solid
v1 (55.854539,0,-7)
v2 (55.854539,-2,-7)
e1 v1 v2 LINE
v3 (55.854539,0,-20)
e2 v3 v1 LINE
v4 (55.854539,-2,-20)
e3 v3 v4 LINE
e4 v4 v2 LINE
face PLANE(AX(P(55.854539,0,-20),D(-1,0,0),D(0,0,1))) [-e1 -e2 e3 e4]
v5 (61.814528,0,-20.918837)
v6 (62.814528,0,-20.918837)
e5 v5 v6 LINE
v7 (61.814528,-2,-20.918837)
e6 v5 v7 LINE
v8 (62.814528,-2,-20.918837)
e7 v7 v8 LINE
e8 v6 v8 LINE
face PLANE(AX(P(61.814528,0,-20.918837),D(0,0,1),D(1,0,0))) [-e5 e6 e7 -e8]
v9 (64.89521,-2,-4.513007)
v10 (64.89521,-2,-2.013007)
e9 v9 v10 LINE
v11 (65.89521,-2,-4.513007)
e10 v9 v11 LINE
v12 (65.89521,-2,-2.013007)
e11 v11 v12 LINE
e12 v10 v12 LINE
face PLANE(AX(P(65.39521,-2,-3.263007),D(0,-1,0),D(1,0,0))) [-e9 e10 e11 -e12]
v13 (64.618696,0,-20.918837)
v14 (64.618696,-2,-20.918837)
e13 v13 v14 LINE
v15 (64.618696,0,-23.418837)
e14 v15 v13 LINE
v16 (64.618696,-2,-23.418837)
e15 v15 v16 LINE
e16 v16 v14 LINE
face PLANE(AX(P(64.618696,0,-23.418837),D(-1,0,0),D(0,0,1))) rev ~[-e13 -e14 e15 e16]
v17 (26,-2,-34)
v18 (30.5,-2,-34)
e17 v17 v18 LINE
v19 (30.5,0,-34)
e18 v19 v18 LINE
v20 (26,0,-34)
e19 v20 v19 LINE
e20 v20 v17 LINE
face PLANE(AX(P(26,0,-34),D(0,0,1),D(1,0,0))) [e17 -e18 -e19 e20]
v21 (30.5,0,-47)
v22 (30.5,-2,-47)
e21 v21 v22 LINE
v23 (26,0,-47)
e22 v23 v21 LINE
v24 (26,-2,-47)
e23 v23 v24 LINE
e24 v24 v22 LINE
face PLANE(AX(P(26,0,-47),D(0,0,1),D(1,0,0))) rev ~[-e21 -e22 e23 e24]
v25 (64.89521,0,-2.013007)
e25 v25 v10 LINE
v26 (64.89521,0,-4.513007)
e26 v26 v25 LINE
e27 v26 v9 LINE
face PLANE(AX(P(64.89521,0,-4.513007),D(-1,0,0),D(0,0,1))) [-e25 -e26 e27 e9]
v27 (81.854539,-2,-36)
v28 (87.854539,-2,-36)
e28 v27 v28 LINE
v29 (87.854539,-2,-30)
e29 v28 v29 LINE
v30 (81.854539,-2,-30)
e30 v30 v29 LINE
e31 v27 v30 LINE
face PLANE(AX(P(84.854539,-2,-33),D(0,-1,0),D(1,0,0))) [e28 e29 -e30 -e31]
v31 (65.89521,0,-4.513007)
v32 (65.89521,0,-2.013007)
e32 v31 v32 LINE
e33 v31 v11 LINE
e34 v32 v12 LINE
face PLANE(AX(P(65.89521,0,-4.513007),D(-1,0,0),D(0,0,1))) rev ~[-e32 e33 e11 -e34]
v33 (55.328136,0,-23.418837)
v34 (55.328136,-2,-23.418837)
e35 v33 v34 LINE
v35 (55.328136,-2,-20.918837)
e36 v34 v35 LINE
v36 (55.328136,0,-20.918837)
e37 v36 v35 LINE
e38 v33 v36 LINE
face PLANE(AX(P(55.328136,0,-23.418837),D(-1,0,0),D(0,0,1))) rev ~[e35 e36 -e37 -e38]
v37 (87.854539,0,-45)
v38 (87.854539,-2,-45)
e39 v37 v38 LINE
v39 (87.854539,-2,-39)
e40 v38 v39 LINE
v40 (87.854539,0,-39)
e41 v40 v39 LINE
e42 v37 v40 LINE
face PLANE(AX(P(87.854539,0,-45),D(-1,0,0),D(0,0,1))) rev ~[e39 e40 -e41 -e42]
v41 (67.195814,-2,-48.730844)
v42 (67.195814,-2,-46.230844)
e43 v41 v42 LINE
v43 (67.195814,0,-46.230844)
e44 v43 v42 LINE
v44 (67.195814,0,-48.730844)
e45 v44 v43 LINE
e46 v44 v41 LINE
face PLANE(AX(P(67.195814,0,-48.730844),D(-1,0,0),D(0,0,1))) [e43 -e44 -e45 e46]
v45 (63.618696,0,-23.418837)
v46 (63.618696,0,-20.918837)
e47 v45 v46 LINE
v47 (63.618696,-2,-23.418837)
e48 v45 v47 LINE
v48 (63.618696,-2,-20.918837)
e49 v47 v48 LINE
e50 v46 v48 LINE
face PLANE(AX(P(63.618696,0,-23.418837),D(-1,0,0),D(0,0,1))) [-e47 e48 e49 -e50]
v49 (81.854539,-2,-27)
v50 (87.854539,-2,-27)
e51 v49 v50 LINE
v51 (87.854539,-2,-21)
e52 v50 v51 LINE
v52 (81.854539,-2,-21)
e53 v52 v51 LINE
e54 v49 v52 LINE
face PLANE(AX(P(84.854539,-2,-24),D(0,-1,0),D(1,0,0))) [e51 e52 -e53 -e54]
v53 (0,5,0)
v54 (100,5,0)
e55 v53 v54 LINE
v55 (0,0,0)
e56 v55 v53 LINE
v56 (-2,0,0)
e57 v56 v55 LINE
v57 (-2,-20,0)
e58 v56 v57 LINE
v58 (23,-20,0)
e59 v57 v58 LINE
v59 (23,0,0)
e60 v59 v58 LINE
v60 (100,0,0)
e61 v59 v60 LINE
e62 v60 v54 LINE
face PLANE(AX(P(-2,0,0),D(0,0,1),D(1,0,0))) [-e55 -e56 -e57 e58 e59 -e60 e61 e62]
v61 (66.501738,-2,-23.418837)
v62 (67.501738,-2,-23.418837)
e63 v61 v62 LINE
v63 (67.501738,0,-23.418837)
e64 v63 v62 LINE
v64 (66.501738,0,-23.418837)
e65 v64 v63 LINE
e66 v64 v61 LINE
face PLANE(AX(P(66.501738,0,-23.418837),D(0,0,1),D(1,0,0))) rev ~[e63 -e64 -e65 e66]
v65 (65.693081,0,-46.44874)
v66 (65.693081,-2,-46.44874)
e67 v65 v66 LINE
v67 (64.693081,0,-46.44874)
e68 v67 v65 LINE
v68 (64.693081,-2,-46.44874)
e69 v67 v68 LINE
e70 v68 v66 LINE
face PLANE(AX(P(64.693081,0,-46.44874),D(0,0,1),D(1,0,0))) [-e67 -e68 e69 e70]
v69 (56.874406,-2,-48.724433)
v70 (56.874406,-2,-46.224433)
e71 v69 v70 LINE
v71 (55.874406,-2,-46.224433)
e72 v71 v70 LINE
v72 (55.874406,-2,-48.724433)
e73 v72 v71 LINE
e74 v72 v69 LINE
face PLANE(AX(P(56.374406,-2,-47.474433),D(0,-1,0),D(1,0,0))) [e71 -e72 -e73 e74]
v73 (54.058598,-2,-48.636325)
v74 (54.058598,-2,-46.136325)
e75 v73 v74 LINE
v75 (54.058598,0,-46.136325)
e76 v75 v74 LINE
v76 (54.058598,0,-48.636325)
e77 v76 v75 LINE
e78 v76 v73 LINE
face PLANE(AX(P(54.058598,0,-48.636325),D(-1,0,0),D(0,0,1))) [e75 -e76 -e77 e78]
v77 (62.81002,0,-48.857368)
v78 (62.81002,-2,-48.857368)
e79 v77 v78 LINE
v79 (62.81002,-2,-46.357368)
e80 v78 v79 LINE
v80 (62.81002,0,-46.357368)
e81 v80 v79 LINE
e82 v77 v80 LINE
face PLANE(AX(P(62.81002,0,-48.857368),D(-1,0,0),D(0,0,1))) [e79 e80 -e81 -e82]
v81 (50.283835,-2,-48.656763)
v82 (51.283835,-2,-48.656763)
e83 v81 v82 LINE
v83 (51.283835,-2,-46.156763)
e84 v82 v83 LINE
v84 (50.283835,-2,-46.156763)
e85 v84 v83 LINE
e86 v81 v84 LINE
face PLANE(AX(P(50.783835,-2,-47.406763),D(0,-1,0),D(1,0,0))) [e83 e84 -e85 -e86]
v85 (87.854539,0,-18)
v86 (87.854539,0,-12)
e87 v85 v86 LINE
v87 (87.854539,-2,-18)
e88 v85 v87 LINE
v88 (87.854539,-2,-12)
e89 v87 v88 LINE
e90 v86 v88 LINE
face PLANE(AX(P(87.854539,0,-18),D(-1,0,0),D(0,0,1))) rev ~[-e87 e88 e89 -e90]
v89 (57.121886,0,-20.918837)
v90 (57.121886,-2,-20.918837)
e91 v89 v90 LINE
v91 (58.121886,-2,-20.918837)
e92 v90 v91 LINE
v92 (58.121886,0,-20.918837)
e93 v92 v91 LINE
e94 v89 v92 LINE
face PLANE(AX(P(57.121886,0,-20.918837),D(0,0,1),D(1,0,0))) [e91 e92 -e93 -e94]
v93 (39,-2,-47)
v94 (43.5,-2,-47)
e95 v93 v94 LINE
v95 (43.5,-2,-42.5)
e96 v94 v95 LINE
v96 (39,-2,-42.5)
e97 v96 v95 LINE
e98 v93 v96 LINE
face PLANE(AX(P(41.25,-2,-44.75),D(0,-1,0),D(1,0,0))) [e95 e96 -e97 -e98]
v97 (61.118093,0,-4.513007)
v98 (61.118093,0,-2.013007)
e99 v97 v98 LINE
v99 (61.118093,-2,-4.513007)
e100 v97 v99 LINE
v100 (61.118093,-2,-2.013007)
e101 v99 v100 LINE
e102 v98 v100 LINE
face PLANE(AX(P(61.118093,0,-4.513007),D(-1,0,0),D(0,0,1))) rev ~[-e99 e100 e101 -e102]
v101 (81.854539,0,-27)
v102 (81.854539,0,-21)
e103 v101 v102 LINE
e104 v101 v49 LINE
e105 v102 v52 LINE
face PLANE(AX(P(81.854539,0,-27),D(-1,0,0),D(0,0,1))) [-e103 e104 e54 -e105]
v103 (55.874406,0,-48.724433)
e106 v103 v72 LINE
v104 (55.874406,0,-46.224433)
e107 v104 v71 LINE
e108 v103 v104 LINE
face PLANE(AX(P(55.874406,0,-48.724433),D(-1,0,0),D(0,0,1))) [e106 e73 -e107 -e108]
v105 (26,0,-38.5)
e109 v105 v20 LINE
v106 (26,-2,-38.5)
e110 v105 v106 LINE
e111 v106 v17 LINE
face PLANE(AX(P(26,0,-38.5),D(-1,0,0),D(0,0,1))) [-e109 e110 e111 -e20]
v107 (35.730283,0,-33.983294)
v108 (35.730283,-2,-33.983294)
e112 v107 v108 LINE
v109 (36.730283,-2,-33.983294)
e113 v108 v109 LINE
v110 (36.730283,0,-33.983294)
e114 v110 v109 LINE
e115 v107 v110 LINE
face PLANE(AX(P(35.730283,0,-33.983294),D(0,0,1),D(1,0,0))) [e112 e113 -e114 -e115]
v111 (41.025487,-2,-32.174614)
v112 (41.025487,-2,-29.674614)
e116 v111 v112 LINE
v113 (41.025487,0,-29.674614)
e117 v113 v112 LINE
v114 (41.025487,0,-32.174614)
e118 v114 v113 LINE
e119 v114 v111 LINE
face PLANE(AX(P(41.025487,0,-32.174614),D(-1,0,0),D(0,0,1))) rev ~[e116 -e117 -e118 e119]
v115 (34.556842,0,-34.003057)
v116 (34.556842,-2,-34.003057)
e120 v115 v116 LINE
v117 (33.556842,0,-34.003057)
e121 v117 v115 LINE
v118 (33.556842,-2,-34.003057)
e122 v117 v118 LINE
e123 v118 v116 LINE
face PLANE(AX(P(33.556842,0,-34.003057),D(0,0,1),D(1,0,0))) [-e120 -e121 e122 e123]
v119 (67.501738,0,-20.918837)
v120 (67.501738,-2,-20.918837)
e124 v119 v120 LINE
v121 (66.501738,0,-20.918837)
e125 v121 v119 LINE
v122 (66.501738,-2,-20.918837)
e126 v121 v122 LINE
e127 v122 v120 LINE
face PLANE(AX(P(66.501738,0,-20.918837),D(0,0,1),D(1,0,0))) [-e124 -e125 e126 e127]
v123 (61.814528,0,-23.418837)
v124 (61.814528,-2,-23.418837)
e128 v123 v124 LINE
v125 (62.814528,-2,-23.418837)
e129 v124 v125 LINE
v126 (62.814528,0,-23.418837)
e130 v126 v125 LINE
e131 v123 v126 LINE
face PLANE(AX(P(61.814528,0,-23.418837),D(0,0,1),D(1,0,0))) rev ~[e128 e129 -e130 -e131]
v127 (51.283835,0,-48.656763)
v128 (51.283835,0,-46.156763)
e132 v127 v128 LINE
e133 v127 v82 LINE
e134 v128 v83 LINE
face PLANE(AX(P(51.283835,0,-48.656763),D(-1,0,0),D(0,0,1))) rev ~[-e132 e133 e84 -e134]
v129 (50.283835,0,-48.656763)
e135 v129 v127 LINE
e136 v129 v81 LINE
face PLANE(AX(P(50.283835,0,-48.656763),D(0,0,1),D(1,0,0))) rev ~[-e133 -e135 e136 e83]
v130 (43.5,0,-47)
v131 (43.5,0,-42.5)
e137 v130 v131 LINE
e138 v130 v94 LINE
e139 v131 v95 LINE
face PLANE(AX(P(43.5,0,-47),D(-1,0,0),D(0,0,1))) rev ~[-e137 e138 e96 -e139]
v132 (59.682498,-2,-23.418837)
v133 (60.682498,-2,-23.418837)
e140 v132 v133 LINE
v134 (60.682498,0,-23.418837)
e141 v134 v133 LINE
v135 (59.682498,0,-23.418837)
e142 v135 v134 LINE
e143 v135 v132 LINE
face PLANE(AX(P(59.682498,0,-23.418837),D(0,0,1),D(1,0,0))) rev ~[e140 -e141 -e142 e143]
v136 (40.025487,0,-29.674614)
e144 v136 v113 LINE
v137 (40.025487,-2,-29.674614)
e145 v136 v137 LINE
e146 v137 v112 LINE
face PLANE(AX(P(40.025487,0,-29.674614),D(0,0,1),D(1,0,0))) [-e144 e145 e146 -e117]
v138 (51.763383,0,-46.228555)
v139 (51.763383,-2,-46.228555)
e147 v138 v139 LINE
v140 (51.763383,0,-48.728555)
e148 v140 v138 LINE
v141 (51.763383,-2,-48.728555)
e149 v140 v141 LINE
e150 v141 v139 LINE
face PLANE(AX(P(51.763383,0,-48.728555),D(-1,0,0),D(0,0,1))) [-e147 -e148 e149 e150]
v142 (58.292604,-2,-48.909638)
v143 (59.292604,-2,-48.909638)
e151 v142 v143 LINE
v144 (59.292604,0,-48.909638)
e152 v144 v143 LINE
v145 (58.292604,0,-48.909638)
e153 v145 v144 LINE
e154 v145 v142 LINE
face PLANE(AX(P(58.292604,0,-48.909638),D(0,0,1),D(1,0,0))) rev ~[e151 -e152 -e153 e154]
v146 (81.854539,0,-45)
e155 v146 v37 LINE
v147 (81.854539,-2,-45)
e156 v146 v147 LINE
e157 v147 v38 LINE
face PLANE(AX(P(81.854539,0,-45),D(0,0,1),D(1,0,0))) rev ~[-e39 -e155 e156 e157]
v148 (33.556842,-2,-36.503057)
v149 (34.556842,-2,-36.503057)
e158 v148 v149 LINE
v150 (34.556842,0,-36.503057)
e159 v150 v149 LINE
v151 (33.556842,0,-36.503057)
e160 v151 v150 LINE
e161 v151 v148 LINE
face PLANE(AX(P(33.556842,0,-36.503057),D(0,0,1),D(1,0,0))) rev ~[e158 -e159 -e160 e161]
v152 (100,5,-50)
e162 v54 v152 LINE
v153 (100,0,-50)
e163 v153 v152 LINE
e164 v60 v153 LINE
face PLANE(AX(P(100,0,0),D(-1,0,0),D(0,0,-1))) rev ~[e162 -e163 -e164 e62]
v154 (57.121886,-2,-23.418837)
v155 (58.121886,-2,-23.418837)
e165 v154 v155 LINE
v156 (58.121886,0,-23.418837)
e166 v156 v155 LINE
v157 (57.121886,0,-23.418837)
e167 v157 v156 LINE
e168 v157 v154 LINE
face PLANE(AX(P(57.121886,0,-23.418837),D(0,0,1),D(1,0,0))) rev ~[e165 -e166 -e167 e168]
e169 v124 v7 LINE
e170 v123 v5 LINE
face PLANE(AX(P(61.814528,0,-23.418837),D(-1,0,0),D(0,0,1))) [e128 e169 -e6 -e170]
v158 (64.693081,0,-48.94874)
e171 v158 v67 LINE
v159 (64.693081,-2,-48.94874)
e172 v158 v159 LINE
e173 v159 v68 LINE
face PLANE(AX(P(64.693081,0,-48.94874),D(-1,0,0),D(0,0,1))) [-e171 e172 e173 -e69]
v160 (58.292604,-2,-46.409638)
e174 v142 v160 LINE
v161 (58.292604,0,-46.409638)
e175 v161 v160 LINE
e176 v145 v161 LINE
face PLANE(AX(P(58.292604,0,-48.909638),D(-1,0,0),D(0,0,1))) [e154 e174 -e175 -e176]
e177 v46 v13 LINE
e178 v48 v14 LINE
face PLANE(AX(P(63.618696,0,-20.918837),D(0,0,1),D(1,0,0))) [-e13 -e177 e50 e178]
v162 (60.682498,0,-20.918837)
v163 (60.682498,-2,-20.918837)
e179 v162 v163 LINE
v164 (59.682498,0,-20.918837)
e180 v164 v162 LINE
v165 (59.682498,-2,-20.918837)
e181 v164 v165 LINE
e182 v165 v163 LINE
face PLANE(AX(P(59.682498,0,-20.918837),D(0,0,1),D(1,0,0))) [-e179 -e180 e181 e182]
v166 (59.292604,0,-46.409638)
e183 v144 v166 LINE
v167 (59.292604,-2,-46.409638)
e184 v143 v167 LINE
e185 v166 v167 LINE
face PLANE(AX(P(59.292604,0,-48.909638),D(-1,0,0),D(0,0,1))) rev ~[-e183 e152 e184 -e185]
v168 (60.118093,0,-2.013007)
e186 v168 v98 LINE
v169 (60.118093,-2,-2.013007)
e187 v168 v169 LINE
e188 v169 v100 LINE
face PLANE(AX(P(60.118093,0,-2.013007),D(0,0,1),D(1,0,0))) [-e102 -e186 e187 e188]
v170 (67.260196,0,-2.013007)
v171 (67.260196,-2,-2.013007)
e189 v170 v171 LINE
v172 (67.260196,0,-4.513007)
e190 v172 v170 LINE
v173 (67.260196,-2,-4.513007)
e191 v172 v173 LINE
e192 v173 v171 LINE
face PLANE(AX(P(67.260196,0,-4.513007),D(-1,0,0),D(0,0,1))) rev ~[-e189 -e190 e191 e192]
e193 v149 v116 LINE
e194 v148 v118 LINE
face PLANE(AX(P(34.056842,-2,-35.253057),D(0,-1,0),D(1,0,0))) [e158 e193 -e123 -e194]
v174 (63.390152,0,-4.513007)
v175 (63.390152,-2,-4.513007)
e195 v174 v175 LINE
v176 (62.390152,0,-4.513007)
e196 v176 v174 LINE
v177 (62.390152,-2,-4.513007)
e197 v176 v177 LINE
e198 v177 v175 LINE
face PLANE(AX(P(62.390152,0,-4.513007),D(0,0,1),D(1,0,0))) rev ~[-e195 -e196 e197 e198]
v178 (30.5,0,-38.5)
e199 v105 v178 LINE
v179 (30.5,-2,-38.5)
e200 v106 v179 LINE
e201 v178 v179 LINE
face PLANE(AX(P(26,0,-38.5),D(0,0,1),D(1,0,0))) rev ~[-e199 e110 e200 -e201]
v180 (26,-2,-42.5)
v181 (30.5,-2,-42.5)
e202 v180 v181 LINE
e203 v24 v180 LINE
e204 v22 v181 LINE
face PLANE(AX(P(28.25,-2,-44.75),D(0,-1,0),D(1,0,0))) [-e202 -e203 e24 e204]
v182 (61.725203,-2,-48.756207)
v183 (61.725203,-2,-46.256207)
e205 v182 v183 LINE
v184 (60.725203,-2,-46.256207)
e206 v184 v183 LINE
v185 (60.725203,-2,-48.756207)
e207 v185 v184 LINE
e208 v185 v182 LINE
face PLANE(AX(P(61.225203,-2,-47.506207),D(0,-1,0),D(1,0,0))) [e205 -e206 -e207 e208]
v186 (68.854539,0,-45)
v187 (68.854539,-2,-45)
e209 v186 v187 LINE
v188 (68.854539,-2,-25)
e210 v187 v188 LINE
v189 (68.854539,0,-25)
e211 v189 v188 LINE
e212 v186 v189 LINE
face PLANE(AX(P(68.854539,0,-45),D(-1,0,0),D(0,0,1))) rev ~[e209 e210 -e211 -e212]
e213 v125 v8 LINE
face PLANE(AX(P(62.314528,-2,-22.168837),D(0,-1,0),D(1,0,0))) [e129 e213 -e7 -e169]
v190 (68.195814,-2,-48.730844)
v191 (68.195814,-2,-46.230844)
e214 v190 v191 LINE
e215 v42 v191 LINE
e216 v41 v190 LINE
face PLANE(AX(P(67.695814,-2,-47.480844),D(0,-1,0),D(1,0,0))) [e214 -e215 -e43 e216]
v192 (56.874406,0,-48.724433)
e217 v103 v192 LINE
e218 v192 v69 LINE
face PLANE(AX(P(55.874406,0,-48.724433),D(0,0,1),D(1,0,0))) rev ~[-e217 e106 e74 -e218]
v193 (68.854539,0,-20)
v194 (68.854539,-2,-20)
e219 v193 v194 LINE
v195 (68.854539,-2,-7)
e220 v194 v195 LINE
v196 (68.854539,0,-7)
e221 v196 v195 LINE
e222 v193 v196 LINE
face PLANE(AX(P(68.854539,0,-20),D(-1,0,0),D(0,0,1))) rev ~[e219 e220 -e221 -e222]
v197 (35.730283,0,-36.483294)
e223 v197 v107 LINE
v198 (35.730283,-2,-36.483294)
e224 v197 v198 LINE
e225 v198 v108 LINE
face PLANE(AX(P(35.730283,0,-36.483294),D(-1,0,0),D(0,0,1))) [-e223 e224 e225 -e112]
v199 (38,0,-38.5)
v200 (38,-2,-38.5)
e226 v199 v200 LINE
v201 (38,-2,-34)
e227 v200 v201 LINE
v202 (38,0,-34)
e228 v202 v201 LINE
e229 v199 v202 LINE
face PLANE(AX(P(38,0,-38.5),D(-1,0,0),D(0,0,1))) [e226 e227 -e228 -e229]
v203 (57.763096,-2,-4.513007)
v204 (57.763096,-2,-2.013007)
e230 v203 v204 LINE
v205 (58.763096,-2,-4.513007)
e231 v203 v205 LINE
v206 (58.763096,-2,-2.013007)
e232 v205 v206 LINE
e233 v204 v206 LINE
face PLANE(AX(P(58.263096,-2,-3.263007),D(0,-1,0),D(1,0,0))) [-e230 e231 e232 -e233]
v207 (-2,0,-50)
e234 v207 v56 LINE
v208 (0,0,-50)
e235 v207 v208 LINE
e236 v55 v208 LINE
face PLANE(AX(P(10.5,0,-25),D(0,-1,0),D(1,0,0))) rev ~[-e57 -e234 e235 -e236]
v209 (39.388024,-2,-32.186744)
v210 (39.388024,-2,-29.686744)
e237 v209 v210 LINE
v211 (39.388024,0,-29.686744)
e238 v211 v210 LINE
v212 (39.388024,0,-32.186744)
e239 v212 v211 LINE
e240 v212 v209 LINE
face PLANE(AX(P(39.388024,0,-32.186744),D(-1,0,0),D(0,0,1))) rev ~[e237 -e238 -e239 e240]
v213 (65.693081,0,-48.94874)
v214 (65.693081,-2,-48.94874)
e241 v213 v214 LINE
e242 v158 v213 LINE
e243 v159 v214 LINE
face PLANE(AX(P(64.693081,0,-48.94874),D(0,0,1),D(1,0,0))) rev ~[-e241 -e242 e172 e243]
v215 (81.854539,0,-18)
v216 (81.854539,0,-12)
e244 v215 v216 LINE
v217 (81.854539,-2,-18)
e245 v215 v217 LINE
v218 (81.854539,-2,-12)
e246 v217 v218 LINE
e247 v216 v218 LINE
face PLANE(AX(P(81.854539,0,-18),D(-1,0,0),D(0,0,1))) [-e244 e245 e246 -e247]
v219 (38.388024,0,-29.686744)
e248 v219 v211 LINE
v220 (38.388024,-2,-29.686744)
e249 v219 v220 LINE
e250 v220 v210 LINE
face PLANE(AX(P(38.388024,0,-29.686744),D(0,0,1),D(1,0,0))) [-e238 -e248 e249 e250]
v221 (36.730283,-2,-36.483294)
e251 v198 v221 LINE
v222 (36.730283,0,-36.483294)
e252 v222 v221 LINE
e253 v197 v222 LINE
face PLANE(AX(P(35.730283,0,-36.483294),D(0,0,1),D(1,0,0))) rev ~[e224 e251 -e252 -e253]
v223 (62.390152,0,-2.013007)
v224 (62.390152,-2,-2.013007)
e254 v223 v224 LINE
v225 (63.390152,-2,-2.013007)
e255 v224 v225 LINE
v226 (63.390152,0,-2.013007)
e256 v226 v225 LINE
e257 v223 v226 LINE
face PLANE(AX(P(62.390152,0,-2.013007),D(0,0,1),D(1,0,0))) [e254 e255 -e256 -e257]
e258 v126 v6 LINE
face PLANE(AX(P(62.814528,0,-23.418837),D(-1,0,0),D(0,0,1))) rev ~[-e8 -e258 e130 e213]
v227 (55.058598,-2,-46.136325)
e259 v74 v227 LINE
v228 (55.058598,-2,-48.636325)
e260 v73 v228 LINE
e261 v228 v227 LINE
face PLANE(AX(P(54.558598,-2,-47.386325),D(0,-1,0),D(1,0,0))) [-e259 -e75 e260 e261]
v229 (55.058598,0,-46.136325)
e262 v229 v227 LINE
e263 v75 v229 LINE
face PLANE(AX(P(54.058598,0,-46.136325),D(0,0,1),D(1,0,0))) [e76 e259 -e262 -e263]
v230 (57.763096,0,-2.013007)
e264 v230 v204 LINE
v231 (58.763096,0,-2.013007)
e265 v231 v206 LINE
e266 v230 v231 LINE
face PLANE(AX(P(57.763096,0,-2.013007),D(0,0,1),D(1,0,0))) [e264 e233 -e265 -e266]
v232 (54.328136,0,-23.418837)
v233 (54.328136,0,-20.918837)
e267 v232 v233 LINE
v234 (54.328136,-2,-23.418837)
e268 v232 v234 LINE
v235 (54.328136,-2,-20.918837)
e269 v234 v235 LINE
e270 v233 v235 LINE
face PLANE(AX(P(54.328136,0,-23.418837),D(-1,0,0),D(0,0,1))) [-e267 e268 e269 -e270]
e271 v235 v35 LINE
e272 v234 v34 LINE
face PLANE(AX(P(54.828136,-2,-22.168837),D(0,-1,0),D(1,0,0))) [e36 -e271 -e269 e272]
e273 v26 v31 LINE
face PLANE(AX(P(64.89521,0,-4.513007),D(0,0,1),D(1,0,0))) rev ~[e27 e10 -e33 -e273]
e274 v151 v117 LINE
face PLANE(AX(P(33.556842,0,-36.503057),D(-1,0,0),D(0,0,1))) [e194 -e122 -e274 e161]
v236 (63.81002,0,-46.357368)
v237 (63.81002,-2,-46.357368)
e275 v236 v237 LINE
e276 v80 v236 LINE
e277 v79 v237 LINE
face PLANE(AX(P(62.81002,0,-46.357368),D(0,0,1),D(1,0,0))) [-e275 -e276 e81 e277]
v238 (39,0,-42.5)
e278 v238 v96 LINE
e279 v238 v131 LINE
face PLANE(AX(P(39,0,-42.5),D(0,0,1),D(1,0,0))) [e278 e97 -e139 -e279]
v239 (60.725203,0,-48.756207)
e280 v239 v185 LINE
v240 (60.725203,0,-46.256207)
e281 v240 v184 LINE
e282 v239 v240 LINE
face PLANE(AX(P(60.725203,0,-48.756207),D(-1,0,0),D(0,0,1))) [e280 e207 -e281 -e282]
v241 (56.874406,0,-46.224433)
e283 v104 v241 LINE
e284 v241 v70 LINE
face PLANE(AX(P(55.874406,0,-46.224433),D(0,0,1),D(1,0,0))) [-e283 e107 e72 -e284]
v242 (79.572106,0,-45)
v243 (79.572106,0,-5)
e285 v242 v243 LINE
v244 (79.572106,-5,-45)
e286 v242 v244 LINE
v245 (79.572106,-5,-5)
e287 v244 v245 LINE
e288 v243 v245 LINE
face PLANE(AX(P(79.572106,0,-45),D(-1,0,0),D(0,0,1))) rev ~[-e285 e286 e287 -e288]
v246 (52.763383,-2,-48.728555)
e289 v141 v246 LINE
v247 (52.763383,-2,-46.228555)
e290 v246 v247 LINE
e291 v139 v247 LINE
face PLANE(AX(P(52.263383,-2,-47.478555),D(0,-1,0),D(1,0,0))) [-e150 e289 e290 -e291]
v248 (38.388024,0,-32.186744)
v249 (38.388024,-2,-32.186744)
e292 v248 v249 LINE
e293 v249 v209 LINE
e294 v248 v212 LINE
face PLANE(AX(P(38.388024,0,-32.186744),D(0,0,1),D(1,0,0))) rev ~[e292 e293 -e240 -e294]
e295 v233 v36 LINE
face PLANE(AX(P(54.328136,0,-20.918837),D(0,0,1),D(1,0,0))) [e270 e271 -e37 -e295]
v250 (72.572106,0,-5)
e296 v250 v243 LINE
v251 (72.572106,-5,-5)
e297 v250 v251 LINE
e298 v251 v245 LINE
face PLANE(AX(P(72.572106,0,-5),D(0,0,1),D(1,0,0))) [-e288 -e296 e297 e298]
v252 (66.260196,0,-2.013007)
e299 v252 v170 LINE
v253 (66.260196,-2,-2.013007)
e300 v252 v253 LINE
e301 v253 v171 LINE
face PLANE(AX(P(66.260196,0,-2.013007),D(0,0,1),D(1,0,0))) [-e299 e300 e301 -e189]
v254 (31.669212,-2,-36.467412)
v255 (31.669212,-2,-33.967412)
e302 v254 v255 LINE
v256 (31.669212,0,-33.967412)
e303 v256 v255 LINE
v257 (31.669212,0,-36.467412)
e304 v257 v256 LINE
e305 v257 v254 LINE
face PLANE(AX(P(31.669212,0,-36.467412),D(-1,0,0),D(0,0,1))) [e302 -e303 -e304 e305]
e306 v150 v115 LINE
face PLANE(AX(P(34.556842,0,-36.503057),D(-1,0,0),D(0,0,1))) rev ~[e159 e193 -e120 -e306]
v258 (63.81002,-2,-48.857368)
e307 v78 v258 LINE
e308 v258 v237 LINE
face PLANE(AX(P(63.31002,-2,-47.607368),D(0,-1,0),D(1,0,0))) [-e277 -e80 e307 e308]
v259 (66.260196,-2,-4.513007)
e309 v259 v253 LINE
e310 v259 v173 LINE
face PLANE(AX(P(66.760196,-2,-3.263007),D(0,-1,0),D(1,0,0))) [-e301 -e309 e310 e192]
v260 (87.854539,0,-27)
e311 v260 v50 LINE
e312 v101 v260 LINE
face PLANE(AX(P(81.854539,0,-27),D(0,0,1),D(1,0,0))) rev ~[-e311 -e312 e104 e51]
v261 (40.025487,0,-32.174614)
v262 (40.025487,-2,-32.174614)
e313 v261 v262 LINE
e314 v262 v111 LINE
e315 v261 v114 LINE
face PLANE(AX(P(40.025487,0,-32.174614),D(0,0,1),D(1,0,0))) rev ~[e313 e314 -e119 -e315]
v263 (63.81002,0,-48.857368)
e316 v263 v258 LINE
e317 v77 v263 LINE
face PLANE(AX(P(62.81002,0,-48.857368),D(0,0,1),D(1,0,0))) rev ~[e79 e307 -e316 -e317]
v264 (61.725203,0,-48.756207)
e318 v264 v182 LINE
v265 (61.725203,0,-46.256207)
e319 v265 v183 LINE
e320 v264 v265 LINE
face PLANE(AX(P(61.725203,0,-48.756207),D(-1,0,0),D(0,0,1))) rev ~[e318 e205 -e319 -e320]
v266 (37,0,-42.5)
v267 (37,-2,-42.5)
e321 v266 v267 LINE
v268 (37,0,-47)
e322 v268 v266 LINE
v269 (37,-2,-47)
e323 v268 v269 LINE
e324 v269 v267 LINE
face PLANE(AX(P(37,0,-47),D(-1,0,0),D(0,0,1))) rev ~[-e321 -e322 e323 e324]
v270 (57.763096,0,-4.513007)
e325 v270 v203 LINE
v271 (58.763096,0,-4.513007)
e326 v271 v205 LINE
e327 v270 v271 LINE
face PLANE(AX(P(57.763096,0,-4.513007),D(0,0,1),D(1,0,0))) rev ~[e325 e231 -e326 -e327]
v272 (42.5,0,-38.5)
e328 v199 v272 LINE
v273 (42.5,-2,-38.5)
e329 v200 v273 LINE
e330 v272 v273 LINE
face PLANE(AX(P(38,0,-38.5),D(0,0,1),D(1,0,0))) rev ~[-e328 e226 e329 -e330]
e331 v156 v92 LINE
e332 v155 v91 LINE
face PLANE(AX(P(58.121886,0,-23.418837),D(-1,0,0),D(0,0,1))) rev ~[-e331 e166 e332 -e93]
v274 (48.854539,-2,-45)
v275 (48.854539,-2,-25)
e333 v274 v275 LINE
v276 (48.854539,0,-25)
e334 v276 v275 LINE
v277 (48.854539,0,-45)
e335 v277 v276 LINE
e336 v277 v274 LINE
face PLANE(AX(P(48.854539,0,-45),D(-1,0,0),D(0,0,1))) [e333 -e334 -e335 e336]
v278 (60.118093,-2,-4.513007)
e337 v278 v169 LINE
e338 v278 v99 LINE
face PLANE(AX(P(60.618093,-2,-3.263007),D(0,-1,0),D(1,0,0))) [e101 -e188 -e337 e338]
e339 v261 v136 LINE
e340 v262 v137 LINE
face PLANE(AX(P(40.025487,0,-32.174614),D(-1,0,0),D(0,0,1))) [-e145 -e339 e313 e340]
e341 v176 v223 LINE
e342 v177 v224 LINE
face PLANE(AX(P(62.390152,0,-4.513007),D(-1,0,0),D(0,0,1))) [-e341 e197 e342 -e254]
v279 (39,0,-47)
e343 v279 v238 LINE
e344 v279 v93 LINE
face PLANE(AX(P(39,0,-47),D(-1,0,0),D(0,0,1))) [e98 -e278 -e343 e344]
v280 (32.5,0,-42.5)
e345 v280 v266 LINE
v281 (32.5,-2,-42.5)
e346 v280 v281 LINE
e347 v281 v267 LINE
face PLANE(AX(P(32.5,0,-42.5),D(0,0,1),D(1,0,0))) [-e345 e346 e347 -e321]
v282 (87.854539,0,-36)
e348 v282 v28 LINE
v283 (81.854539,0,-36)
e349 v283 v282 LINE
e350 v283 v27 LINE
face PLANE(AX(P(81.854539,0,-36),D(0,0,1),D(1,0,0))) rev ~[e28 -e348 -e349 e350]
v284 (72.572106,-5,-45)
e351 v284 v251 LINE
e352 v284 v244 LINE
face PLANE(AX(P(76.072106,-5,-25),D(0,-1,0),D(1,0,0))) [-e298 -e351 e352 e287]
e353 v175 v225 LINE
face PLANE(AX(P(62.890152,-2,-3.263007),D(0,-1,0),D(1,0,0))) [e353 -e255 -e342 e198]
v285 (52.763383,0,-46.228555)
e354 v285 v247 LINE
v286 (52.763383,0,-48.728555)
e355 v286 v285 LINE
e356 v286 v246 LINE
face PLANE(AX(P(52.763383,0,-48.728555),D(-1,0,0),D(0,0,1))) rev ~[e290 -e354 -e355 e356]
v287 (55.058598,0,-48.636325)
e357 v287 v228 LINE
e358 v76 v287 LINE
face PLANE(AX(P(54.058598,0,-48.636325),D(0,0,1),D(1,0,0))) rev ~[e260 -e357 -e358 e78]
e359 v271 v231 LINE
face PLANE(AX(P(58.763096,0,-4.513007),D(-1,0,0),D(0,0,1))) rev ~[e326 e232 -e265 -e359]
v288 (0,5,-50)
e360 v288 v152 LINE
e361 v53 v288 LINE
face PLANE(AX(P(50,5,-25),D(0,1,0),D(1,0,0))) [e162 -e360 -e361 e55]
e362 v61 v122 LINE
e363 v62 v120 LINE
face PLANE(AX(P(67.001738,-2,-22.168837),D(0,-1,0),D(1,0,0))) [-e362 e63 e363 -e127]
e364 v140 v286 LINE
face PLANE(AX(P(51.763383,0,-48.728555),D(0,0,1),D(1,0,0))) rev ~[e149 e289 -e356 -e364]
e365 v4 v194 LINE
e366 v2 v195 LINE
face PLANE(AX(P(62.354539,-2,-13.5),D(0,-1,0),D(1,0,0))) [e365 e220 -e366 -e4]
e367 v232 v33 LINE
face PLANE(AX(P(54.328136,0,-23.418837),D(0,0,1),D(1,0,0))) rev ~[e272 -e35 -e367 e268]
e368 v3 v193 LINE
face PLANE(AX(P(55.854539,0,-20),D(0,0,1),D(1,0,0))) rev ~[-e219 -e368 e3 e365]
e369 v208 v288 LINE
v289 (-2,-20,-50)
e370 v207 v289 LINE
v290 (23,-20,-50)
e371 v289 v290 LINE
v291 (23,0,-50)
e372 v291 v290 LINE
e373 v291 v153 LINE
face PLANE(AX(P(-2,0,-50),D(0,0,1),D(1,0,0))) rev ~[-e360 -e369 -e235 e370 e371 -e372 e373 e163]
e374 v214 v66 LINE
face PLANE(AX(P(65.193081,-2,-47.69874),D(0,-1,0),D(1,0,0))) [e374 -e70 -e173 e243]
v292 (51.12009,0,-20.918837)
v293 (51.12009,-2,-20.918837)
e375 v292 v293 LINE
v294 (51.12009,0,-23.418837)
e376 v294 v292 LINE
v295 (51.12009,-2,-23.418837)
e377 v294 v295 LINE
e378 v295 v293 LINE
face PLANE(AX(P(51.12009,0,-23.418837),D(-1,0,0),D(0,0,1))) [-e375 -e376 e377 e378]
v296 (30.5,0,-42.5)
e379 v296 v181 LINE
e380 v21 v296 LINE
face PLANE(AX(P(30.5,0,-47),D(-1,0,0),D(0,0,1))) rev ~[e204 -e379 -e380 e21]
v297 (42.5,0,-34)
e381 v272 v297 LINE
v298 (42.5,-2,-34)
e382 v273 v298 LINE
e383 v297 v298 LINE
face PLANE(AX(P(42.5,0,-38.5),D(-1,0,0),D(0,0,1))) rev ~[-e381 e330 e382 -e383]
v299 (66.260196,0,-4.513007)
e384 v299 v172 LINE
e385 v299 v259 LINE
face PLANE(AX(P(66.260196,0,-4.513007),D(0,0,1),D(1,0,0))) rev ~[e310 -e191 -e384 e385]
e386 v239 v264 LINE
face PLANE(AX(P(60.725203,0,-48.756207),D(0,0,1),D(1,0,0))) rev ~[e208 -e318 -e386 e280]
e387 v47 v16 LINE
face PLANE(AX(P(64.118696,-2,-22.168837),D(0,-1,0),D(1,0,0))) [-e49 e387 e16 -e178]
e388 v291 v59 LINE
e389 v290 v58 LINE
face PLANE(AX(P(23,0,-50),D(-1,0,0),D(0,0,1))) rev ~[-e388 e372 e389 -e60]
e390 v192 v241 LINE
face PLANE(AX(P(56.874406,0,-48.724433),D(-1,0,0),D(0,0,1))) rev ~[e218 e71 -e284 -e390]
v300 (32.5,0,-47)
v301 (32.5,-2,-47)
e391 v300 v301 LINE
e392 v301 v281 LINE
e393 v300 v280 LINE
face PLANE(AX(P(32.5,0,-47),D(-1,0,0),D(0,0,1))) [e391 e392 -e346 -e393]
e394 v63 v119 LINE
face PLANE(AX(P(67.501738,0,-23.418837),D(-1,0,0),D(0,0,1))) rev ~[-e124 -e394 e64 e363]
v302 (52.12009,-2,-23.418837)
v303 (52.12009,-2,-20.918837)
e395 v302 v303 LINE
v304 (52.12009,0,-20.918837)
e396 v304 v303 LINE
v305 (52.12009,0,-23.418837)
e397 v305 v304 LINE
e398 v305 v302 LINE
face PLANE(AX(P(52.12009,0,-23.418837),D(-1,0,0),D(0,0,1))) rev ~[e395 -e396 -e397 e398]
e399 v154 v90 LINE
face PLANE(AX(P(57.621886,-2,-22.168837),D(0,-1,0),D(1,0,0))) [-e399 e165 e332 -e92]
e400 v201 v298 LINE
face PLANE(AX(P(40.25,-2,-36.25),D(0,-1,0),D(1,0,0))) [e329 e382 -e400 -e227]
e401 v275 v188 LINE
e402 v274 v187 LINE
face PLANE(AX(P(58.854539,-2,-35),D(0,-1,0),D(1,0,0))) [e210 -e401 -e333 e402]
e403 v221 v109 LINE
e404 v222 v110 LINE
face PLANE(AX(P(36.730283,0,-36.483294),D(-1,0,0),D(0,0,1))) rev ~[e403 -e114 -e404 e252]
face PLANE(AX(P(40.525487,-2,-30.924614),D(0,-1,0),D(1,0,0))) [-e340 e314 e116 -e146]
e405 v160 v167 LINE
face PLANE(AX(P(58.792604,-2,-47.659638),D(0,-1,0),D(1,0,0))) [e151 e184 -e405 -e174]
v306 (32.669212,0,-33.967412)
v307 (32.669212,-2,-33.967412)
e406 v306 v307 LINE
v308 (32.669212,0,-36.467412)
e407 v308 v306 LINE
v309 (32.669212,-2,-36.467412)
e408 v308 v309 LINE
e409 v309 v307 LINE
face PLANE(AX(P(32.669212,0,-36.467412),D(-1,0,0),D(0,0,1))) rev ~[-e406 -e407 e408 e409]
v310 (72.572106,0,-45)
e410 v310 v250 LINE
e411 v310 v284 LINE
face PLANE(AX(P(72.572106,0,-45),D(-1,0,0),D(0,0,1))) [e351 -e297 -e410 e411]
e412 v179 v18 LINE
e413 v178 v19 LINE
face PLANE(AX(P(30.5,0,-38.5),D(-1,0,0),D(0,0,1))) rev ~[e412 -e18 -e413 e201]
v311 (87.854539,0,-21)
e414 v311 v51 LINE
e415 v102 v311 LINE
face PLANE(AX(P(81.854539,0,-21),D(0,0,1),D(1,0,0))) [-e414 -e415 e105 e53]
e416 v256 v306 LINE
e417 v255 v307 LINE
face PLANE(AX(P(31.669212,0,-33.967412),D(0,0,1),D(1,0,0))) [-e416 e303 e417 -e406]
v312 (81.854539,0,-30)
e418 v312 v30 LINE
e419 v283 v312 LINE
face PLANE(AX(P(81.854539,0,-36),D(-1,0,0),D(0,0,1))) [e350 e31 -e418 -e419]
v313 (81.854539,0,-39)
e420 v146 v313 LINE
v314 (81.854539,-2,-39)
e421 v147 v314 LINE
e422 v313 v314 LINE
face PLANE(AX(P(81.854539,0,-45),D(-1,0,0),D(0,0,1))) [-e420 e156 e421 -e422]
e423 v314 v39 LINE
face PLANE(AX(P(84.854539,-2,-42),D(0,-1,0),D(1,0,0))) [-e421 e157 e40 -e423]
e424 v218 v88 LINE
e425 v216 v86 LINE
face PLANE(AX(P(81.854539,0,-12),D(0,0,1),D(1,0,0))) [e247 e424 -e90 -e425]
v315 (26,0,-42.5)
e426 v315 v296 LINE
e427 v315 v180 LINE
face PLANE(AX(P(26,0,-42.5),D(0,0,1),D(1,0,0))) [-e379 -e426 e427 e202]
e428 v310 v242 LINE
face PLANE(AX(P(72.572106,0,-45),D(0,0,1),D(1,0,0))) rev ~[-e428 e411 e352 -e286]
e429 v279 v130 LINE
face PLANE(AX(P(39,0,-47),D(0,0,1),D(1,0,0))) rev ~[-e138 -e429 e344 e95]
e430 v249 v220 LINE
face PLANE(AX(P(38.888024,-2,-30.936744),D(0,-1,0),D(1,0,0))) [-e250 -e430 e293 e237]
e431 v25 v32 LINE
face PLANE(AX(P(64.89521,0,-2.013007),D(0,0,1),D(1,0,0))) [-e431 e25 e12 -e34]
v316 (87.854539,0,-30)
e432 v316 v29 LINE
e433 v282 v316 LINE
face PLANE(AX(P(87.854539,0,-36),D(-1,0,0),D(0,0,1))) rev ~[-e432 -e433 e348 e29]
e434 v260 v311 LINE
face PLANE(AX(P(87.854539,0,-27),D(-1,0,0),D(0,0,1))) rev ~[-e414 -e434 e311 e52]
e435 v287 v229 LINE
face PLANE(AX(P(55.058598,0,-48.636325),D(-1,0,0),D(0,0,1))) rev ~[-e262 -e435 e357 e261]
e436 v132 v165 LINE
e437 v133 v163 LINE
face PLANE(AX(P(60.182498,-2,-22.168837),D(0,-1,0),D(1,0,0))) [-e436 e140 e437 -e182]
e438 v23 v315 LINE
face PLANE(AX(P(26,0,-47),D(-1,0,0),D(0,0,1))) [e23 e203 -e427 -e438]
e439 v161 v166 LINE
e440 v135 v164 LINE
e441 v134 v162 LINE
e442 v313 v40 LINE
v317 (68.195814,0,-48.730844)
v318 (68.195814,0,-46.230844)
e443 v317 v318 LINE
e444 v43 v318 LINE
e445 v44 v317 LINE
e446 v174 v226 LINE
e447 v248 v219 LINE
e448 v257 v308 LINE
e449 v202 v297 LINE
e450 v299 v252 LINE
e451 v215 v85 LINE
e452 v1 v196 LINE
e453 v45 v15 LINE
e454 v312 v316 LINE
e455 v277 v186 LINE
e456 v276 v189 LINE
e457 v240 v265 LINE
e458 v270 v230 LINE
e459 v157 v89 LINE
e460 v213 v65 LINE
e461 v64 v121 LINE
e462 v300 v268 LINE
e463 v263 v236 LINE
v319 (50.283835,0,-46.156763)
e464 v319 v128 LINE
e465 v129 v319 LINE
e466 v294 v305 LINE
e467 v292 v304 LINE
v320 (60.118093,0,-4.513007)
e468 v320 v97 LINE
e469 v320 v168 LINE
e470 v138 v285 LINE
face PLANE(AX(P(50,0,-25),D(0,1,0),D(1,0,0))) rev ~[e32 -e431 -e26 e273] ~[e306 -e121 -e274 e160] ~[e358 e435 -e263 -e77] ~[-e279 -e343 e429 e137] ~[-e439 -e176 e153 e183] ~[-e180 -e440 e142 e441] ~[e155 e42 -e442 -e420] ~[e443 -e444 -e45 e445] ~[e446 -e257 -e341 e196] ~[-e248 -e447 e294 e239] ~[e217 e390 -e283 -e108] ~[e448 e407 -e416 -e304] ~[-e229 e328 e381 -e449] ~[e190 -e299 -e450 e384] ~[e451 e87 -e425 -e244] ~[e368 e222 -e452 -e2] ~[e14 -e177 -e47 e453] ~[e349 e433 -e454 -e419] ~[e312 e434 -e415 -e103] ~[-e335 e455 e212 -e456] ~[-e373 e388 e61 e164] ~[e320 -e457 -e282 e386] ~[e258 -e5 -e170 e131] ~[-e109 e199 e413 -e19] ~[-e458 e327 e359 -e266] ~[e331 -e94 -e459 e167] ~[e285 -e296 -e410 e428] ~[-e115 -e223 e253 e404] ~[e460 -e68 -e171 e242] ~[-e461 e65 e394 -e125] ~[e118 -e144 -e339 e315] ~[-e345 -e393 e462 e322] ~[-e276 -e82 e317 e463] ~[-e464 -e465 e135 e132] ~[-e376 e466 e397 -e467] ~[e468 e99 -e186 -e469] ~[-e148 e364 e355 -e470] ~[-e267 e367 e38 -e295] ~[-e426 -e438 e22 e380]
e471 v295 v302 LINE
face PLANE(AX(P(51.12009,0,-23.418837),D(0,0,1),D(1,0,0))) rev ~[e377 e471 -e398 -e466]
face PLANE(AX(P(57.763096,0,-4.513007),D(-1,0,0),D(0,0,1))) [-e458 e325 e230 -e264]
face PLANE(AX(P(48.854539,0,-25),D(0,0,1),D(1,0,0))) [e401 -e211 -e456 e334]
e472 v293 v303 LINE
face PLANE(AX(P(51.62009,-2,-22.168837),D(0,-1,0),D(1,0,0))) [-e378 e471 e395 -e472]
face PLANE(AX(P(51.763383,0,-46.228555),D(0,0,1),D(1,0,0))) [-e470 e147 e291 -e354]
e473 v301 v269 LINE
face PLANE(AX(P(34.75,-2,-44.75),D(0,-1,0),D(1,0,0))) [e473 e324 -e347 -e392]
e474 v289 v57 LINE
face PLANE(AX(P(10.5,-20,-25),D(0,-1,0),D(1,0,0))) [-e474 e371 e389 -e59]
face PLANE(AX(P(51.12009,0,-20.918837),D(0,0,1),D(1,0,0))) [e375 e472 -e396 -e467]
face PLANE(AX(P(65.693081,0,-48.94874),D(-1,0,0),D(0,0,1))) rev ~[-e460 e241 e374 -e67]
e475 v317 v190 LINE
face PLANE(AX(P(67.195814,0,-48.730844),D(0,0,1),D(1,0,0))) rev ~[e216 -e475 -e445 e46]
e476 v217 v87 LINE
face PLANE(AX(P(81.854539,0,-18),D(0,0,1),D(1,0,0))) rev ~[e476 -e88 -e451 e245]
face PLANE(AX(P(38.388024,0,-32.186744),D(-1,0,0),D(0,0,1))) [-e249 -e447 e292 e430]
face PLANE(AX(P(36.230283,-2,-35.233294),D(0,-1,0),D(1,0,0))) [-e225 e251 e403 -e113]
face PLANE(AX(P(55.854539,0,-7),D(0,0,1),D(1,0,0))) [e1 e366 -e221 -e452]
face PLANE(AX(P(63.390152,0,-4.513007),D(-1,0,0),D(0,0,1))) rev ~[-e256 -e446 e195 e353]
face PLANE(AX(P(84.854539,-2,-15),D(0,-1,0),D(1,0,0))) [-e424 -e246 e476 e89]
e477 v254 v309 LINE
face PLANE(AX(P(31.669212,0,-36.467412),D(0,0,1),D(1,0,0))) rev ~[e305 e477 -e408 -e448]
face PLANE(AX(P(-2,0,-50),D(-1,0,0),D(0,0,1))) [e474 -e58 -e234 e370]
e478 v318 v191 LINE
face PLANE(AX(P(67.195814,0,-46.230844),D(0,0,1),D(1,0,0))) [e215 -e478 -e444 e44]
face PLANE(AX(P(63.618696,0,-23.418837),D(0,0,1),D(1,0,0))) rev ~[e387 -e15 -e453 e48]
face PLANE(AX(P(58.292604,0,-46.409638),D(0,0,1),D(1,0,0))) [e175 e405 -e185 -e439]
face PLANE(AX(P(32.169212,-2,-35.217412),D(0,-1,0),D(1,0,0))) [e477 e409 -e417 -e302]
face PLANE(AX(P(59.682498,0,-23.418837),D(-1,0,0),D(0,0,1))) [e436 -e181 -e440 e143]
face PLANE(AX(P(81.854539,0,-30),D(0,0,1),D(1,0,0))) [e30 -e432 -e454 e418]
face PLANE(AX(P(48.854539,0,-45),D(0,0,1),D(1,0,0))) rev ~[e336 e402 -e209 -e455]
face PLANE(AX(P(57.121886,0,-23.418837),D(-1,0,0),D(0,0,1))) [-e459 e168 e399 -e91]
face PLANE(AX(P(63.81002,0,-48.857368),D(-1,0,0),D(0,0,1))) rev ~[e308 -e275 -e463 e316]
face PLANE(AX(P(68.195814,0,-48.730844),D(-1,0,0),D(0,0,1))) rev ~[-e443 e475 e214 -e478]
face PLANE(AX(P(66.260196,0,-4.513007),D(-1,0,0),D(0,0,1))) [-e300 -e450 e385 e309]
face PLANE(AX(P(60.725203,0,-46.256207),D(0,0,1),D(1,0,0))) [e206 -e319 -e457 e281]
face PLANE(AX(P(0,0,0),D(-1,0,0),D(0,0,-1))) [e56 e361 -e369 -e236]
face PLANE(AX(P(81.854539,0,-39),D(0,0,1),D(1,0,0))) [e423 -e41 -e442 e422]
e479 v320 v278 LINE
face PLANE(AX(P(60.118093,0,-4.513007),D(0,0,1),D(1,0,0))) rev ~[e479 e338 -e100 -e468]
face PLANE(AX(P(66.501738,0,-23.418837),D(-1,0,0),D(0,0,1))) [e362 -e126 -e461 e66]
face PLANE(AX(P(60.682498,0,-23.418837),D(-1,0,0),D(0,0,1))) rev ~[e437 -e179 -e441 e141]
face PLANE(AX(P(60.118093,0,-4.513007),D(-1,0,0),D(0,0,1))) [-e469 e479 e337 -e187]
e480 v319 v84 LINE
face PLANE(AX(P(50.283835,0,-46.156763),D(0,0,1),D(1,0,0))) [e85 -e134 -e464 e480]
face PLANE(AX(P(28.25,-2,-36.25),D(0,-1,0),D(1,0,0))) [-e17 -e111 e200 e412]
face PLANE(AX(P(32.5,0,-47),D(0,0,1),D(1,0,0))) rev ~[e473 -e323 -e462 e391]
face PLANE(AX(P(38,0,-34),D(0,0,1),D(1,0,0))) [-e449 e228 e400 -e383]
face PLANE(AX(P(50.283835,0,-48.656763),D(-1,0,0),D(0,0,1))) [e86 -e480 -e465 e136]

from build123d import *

# Parameters (mm, degrees)
SKETCH1_W           = 100
SKETCH1_H           = 50
BOSS_EXTRUDE1_DEPTH = 5
SKETCH2_W           = 25
SKETCH2_H           = 50
BOSS_EXTRUDE2_DEPTH = 20
SKETCH3_W           = 13
SKETCH3_H           = 13
SKETCH3_W_2         = 20
SKETCH3_H_2         = 20
SKETCH3_W_3         = 4.5
SKETCH3_H_3         = 4.5
SKETCH3_W_4         = 1
SKETCH3_H_4         = 2.5
SKETCH3_W_5         = 6
SKETCH3_H_5         = 6
BOSS_EXTRUDE3_DEPTH = 2
SKETCH4_W           = 7
SKETCH4_H           = 40
BOSS_EXTRUDE4_DEPTH = 5


with BuildPart() as part:
    # Sketch1 → Boss-Extrude1 (new body)
    with BuildSketch(Plane(origin=(0, 0, 0), x_dir=(1, 0, 0), z_dir=(0, 1, 0))):
        with Locations((50, 25)):
            Rectangle(SKETCH1_W, SKETCH1_H)
    extrude(amount=BOSS_EXTRUDE1_DEPTH)

    # Sketch2 → Boss-Extrude2 (add)
    with BuildSketch(Plane.XZ):
        with Locations((10.5, -25)):
            Rectangle(SKETCH2_W, SKETCH2_H)
    extrude(amount=BOSS_EXTRUDE2_DEPTH)

    # Sketch3 → Boss-Extrude3 (add)
    with BuildSketch(Plane.XZ):
        with Locations((62.354538524, -13.5)):
            Rectangle(SKETCH3_W, SKETCH3_H)
        with Locations((58.854538524, -35)):
            Rectangle(SKETCH3_W_2, SKETCH3_H_2)
        with Locations((41.25, -44.75)):
            Rectangle(SKETCH3_W_3, SKETCH3_H_3)
        with Locations((36.230283198, -35.23329394)):
            Rectangle(SKETCH3_W_4, SKETCH3_H_4)
        with Locations((84.854538524, -15)):
            Rectangle(SKETCH3_W_5, SKETCH3_H_5)
        with Locations((84.854538524, -24)):
            Rectangle(SKETCH3_W_5, SKETCH3_H_5)
        with Locations((84.854538524, -33)):
            Rectangle(SKETCH3_W_5, SKETCH3_H_5)
        with Locations((84.854538524, -42)):
            Rectangle(SKETCH3_W_5, SKETCH3_H_5)
        with Locations((34.75, -44.75)):
            Rectangle(SKETCH3_W_3, SKETCH3_H_3)
        with Locations((28.25, -44.75)):
            Rectangle(SKETCH3_W_3, SKETCH3_H_3)
        with Locations((40.25, -36.25)):
            Rectangle(SKETCH3_W_3, SKETCH3_H_3)
        with Locations((28.25, -36.25)):
            Rectangle(SKETCH3_W_3, SKETCH3_H_3)
        with Locations((34.056841582, -35.253056661)):
            Rectangle(SKETCH3_W_4, SKETCH3_H_4)
        with Locations((32.169211896, -35.217412145)):
            Rectangle(SKETCH3_W_4, SKETCH3_H_4)
        with Locations((38.888023686, -30.936743788)):
            Rectangle(SKETCH3_W_4, SKETCH3_H_4)
        with Locations((40.525487338, -30.924614304)):
            Rectangle(SKETCH3_W_4, SKETCH3_H_4)
        with Locations((50.783834941, -47.406763186)):
            Rectangle(SKETCH3_W_4, SKETCH3_H_4)
        with Locations((52.26338259, -47.478555209)):
            Rectangle(SKETCH3_W_4, SKETCH3_H_4)
        with Locations((54.55859758, -47.386324582)):
            Rectangle(SKETCH3_W_4, SKETCH3_H_4)
        with Locations((56.374406059, -47.474432974)):
            Rectangle(SKETCH3_W_4, SKETCH3_H_4)
        with Locations((58.792603581, -47.659638141)):
            Rectangle(SKETCH3_W_4, SKETCH3_H_4)
        with Locations((61.225203353, -47.50620675)):
            Rectangle(SKETCH3_W_4, SKETCH3_H_4)
        with Locations((63.310020495, -47.607368237)):
            Rectangle(SKETCH3_W_4, SKETCH3_H_4)
        with Locations((65.19308114, -47.698739903)):
            Rectangle(SKETCH3_W_4, SKETCH3_H_4)
        with Locations((67.695813528, -47.480844473)):
            Rectangle(SKETCH3_W_4, SKETCH3_H_4)
        with Locations((51.620089841, -22.168837292)):
            Rectangle(SKETCH3_W_4, SKETCH3_H_4)
        with Locations((54.828135526, -22.168837292)):
            Rectangle(SKETCH3_W_4, SKETCH3_H_4)
        with Locations((57.621886299, -22.168837292)):
            Rectangle(SKETCH3_W_4, SKETCH3_H_4)
        with Locations((60.182498208, -22.168837292)):
            Rectangle(SKETCH3_W_4, SKETCH3_H_4)
        with Locations((64.118696459, -22.168837292)):
            Rectangle(SKETCH3_W_4, SKETCH3_H_4)
        with Locations((62.314527943, -22.168837292)):
            Rectangle(SKETCH3_W_4, SKETCH3_H_4)
        with Locations((67.001738379, -22.168837292)):
            Rectangle(SKETCH3_W_4, SKETCH3_H_4)
        with Locations((58.263095719, -3.26300702)):
            Rectangle(SKETCH3_W_4, SKETCH3_H_4)
        with Locations((60.618093401, -3.26300702)):
            Rectangle(SKETCH3_W_4, SKETCH3_H_4)
        with Locations((62.890151559, -3.26300702)):
            Rectangle(SKETCH3_W_4, SKETCH3_H_4)
        with Locations((65.395210185, -3.26300702)):
            Rectangle(SKETCH3_W_4, SKETCH3_H_4)
        with Locations((66.760195848, -3.26300702)):
            Rectangle(SKETCH3_W_4, SKETCH3_H_4)
    extrude(amount=BOSS_EXTRUDE3_DEPTH)

    # Sketch4 → Boss-Extrude4 (add)
    with BuildSketch(Plane.XZ):
        with Locations((76.072105727, -25)):
            Rectangle(SKETCH4_W, SKETCH4_H)
    extrude(amount=BOSS_EXTRUDE4_DEPTH)


solid = part.part
